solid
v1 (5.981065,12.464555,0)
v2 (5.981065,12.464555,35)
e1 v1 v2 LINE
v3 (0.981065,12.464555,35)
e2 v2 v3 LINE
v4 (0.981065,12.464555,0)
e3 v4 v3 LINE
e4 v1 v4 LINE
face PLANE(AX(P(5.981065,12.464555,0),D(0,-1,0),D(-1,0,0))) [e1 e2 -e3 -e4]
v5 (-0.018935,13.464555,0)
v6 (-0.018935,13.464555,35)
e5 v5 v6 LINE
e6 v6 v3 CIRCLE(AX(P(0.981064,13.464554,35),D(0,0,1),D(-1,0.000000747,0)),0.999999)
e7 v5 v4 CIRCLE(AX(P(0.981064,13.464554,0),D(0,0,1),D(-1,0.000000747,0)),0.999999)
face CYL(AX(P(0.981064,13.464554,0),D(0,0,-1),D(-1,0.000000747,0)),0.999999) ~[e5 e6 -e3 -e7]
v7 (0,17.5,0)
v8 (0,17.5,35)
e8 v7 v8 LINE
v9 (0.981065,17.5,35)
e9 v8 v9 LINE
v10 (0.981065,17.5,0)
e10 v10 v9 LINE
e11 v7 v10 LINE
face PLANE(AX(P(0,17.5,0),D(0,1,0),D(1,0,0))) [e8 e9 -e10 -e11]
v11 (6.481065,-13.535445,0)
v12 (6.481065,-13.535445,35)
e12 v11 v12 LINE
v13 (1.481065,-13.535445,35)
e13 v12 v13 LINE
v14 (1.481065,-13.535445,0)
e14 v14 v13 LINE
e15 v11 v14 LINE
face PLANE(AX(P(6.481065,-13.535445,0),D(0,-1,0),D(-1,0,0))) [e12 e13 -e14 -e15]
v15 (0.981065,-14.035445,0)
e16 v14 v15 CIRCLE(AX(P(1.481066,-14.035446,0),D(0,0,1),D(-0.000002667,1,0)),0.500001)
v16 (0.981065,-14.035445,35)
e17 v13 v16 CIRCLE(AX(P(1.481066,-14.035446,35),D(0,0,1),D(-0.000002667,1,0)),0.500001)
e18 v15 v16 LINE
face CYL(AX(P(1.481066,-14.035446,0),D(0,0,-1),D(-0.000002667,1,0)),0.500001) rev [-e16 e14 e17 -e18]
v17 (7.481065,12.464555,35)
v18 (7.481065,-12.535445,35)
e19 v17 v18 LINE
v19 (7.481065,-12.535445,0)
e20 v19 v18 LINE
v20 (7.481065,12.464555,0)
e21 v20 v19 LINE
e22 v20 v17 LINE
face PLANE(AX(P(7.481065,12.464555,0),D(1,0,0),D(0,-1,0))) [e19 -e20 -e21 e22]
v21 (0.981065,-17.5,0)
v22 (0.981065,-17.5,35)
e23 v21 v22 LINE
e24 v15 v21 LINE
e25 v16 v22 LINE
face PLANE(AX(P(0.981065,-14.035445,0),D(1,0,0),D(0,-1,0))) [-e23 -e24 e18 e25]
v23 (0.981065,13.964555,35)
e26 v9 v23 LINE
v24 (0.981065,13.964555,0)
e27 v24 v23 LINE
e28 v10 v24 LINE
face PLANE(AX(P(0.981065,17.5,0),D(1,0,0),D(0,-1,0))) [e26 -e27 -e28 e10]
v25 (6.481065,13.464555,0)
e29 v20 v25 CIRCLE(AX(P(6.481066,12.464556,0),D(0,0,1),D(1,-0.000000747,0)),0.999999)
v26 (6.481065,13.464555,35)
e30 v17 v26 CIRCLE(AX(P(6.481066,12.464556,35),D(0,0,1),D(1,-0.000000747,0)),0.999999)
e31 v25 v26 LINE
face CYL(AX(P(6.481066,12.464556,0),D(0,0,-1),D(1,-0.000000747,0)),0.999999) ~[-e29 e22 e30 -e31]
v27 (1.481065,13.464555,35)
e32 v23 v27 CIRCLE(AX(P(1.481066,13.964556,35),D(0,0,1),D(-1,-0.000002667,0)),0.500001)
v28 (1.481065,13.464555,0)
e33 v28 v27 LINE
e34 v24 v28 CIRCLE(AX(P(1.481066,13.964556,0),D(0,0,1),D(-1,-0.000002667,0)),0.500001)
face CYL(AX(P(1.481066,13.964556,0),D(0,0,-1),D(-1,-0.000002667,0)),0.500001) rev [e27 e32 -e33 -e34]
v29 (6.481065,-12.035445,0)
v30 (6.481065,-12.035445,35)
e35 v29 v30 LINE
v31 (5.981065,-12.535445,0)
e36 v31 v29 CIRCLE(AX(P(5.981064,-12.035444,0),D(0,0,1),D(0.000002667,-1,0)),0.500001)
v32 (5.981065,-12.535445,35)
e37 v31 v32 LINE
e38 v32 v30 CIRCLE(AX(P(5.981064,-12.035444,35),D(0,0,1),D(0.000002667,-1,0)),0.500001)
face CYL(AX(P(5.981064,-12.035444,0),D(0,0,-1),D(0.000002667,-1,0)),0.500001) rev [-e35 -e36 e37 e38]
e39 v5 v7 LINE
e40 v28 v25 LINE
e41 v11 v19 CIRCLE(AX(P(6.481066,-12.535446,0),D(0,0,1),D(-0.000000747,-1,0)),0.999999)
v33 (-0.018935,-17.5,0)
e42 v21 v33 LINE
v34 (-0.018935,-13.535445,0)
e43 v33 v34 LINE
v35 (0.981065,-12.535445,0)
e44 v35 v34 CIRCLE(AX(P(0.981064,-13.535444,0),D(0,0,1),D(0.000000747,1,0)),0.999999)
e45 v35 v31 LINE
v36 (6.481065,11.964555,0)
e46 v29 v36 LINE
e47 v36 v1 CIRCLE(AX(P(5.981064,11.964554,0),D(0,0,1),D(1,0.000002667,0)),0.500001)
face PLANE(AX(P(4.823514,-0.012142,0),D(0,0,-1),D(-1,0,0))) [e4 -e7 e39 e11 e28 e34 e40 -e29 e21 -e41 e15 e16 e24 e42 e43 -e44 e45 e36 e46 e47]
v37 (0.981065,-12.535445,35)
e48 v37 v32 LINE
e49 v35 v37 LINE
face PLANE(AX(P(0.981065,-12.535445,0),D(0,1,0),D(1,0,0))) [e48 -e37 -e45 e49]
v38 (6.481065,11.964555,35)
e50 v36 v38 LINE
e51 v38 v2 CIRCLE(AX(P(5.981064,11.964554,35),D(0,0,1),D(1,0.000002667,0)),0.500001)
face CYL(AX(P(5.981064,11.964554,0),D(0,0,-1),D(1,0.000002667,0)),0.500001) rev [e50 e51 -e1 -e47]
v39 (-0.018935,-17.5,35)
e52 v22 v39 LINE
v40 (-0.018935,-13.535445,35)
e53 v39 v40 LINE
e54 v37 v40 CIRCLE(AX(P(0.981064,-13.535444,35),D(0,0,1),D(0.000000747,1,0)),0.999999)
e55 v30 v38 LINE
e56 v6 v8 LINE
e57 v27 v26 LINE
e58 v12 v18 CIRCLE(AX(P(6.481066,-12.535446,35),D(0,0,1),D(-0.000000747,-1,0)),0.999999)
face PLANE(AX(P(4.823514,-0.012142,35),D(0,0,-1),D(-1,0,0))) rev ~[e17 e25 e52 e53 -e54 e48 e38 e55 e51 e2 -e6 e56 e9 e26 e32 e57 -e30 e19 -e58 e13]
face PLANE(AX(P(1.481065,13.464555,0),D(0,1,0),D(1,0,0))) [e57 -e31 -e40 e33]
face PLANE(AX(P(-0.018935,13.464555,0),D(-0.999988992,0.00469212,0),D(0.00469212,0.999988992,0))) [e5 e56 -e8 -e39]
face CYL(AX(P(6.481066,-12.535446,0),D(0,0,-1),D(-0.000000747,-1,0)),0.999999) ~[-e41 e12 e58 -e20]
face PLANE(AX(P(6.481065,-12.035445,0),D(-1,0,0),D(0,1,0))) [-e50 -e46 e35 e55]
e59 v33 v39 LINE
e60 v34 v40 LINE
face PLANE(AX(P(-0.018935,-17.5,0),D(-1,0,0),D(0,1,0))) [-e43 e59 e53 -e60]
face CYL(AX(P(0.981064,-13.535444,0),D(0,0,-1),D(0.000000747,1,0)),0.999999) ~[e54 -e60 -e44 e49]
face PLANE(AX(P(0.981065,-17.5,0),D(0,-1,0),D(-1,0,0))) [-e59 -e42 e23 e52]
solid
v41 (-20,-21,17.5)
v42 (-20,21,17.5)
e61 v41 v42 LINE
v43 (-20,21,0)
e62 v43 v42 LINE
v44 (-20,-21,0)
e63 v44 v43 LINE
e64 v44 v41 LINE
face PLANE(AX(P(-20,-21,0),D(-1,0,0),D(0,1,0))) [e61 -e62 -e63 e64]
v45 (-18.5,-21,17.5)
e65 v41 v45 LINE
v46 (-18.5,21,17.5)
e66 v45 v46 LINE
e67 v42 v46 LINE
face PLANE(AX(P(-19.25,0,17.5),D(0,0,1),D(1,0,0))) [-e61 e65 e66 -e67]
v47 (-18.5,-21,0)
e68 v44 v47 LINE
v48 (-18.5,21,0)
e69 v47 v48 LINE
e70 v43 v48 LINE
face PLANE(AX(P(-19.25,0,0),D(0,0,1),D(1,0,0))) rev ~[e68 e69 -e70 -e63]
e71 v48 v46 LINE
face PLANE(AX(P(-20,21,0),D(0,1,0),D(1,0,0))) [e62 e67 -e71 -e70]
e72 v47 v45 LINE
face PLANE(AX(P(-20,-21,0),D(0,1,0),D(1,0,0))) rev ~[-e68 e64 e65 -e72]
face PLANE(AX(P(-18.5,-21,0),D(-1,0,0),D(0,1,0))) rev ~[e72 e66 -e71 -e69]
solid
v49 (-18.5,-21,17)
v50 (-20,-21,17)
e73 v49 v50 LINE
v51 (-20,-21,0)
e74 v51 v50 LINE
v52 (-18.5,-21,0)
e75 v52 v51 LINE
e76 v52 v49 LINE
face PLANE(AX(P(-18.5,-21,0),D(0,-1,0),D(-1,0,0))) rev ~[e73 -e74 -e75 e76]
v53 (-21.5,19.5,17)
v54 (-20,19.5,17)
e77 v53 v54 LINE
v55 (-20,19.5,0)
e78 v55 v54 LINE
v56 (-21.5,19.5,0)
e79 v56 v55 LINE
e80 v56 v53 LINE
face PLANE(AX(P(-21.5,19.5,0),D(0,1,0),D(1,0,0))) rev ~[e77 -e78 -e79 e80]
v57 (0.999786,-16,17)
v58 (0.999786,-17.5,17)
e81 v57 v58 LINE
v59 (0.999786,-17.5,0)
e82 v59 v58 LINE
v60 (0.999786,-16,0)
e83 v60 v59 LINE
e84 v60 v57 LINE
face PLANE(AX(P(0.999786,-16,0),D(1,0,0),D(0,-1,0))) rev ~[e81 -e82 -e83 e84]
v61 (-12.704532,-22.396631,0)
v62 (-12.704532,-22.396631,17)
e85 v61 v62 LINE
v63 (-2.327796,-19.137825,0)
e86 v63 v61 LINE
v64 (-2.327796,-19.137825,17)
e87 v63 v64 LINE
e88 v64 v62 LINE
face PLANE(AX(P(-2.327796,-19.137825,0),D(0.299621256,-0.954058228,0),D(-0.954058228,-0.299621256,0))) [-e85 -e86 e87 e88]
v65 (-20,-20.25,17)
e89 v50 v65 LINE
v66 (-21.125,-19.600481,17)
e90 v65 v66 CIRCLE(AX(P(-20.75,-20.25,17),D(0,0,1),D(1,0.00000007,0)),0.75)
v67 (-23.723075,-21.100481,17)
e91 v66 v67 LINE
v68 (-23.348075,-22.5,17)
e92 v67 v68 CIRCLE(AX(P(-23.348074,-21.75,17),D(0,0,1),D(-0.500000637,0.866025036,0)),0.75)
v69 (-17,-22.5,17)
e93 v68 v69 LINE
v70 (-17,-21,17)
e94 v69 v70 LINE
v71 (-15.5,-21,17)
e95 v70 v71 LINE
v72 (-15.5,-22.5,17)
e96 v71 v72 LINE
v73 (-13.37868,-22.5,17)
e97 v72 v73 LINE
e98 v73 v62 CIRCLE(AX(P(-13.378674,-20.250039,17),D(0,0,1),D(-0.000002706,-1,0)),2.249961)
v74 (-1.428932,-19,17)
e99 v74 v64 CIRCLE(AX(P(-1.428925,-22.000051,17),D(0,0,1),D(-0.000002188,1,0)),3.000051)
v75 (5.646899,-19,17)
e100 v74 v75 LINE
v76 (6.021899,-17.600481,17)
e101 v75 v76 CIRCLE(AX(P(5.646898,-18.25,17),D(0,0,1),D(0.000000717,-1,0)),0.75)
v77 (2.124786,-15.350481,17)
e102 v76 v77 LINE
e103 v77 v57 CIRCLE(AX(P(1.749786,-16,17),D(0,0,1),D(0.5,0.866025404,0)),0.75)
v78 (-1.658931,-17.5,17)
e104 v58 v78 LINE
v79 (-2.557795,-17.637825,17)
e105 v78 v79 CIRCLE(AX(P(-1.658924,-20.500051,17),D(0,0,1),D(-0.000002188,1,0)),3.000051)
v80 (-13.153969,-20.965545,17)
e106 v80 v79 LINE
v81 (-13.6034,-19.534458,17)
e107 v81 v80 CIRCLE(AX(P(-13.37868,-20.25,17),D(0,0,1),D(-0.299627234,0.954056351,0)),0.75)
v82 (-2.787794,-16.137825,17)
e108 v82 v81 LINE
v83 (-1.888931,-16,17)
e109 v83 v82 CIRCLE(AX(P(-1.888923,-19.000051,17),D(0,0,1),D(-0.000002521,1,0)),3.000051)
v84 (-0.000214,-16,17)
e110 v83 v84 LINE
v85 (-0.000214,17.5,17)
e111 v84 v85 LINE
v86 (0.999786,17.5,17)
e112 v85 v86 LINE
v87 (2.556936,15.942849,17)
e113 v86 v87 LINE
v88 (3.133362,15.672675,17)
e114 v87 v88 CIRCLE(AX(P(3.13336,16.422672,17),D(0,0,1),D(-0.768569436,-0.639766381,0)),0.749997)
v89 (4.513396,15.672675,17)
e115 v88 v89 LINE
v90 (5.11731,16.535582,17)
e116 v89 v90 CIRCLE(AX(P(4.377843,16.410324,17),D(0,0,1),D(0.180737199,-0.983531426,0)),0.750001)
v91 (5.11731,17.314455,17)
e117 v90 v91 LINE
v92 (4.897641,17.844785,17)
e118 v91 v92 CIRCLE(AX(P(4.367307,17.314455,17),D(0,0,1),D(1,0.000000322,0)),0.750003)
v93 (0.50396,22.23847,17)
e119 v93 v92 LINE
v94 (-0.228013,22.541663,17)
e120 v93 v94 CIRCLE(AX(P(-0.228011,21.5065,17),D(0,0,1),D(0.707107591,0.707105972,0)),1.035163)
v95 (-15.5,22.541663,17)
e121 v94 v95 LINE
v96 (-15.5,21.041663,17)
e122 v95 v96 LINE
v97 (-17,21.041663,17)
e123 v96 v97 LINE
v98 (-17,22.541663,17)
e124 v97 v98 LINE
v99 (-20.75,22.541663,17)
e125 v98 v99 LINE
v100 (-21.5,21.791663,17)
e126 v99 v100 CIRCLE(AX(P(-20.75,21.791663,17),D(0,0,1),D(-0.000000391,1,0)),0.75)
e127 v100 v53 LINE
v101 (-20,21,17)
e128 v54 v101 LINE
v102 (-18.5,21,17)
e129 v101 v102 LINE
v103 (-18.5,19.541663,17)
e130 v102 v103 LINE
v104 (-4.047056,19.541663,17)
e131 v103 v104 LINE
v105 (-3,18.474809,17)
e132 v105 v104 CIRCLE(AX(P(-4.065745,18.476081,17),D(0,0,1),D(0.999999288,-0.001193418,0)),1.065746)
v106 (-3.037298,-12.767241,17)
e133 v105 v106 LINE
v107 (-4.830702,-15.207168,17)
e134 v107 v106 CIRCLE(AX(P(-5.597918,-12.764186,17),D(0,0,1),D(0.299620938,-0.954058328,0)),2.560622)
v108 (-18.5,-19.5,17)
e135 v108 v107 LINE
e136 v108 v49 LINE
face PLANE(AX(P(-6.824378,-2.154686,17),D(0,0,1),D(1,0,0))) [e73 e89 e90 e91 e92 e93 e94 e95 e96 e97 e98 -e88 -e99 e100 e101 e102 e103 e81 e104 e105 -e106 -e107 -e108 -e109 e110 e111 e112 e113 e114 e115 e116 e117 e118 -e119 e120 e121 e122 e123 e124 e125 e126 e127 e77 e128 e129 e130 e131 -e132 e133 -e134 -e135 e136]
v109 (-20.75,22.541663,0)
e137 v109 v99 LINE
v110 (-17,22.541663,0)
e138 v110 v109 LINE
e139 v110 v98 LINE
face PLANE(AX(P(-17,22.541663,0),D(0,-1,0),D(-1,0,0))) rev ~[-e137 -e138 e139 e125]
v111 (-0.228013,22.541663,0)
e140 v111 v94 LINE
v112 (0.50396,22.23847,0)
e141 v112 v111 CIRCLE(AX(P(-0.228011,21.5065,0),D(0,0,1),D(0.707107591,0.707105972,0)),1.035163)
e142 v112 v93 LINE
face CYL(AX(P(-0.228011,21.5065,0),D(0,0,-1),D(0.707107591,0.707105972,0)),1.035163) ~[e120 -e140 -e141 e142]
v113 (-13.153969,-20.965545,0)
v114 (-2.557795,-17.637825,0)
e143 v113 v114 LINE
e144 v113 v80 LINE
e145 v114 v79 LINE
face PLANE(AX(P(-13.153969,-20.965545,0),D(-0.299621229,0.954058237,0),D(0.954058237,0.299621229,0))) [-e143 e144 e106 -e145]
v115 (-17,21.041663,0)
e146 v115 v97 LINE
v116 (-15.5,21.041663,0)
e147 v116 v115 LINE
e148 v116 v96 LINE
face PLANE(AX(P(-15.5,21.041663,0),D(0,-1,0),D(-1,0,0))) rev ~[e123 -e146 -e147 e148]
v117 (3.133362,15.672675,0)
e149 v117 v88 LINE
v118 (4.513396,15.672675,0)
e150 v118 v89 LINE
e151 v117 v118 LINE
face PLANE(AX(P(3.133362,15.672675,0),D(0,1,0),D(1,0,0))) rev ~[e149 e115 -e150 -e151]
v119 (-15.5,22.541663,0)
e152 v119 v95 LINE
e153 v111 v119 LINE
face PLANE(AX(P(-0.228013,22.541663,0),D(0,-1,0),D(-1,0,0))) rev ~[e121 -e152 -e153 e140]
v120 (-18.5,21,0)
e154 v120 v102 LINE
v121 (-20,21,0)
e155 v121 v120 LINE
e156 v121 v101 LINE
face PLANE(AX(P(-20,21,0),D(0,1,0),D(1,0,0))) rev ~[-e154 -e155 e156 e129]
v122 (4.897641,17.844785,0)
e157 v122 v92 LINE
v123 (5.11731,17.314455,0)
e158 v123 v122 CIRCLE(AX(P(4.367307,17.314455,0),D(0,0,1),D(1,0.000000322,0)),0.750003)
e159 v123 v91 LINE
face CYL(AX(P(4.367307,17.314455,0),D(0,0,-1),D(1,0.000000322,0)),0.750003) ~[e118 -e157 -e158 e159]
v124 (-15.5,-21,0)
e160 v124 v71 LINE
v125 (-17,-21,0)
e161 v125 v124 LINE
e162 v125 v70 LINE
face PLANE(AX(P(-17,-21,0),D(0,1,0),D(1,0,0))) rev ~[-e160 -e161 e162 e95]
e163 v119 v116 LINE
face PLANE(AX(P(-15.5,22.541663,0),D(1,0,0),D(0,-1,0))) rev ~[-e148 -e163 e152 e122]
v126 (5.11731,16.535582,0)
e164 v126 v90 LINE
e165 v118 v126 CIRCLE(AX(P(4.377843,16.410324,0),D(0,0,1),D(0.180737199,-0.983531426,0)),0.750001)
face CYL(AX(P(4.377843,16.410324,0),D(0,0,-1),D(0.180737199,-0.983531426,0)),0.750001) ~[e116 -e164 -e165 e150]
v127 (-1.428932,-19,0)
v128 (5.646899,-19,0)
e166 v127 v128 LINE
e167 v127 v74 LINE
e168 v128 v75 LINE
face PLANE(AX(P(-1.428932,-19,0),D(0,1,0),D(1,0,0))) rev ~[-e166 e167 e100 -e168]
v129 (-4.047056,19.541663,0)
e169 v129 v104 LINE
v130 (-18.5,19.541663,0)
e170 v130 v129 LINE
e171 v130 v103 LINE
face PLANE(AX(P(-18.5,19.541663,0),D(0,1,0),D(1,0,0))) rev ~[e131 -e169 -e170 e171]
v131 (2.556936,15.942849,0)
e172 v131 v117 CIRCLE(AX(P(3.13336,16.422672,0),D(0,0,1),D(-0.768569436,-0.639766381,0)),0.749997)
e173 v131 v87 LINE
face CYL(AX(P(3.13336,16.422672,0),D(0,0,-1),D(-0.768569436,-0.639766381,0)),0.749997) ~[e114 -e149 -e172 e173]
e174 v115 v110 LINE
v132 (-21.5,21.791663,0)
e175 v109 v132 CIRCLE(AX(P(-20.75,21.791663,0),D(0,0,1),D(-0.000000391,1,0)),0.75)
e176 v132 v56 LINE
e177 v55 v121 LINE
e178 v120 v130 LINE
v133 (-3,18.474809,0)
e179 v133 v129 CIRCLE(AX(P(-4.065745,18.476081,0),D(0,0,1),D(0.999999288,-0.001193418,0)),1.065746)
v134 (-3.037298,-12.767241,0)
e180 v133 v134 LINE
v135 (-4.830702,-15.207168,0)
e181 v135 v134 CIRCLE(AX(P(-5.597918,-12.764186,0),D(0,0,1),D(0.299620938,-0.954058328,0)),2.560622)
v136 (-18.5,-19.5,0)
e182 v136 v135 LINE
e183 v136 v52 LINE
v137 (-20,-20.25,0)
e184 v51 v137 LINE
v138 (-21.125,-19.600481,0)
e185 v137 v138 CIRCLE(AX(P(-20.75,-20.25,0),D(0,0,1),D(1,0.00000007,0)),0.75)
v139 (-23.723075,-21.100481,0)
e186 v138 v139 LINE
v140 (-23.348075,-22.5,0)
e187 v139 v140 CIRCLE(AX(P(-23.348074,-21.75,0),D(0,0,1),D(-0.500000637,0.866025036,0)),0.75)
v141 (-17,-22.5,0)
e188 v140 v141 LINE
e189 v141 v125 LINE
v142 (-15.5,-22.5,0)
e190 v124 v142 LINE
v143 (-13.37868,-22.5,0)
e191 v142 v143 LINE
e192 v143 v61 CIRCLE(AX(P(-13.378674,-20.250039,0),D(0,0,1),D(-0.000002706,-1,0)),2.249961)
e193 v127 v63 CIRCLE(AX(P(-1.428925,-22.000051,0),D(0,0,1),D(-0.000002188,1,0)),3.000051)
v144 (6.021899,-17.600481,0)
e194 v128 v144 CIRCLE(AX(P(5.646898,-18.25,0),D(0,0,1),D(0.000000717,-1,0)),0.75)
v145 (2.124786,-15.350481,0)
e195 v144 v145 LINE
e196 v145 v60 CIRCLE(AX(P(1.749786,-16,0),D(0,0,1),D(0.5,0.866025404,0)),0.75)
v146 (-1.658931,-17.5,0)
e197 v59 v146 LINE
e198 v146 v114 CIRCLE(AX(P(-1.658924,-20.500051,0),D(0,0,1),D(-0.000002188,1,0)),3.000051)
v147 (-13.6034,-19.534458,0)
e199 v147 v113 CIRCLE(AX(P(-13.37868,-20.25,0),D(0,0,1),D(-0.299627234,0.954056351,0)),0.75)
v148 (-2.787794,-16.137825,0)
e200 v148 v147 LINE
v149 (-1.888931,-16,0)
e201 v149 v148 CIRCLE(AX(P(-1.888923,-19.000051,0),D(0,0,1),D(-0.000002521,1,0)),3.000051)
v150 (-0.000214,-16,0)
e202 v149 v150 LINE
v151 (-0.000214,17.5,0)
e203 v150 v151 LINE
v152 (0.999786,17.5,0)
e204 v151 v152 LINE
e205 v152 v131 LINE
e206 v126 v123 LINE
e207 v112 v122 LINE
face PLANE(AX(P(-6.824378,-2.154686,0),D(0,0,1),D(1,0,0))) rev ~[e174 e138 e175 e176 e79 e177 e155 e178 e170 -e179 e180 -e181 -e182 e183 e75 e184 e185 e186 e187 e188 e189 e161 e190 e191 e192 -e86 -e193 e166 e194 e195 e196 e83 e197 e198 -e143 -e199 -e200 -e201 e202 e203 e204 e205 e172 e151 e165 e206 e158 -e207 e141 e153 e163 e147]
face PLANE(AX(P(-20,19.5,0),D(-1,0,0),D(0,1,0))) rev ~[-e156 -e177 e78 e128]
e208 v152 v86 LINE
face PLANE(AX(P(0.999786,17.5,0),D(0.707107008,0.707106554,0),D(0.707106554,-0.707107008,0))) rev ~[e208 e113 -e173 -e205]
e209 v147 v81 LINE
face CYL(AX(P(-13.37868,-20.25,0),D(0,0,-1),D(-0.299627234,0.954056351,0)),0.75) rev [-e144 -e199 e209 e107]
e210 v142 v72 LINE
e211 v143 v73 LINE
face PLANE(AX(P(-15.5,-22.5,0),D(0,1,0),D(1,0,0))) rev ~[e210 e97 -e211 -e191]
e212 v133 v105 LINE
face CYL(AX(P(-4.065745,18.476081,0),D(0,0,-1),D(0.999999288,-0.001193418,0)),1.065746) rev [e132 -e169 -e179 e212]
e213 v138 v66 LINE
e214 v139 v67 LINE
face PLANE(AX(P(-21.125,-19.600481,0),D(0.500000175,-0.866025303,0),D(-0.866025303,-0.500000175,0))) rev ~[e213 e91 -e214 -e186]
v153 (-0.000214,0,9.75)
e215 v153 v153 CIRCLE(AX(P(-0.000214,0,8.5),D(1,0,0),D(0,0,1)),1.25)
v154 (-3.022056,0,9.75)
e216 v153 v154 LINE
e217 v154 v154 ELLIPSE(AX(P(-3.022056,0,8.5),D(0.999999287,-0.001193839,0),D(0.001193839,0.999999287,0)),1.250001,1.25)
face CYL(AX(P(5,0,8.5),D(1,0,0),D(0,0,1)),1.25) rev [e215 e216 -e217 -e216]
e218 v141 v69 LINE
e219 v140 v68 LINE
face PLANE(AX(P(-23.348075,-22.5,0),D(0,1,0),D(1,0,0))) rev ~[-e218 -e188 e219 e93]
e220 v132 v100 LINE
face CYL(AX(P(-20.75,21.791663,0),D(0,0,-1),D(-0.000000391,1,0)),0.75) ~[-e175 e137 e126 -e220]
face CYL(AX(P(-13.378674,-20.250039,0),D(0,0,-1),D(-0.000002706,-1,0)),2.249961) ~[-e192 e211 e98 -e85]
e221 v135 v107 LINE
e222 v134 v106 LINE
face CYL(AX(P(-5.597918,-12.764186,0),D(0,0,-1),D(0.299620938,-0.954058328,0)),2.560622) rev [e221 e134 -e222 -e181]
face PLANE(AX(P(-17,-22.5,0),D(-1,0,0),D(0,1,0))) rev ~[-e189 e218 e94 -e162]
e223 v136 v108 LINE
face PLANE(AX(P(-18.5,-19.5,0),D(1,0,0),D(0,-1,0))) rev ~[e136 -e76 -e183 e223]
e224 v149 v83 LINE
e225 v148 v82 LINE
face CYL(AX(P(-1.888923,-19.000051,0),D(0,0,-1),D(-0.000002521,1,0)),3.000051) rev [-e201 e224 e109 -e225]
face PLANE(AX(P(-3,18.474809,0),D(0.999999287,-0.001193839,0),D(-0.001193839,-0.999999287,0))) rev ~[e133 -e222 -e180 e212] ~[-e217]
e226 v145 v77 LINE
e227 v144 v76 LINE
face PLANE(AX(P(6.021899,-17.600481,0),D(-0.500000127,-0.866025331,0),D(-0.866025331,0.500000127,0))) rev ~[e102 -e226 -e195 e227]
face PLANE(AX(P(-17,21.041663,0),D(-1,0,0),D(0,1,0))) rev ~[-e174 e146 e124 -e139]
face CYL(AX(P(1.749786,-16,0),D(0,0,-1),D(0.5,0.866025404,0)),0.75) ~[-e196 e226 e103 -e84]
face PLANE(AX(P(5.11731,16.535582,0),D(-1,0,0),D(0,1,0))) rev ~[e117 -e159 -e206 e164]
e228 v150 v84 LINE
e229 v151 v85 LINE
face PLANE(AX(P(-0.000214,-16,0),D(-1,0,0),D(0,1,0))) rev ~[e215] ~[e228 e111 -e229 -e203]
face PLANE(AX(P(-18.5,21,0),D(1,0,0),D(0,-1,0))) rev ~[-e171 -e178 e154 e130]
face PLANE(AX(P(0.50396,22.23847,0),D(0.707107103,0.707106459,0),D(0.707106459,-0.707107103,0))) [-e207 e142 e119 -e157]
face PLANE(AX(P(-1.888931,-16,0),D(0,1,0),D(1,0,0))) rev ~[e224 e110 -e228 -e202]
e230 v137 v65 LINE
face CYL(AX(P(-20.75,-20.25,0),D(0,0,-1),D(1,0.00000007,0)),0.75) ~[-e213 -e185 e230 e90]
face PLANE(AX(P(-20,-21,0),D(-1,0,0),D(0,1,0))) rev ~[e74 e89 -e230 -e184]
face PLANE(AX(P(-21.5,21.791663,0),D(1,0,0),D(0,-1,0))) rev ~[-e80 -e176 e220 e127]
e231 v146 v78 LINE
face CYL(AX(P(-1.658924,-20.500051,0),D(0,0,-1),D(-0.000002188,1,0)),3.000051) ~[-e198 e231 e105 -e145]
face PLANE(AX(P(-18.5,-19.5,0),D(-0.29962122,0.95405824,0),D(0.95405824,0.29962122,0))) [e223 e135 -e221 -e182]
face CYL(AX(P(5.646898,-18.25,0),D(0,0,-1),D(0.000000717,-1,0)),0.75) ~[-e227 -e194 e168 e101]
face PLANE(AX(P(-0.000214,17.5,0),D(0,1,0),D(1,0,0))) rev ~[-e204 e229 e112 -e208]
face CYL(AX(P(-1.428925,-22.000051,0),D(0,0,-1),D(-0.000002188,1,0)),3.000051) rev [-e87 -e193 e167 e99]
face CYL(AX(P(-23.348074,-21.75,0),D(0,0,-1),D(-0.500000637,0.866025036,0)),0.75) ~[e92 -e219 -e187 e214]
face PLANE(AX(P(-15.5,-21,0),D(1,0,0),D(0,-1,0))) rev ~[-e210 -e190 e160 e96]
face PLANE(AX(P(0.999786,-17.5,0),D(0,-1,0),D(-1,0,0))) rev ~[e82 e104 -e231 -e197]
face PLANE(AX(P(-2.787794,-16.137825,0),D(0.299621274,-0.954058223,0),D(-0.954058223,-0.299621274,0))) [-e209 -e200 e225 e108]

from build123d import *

# Parameters (mm, degrees)
PAD001_DEPTH         = 35
BOX_W                = 1.5
BOX_H                = 42
BOX_DEPTH            = 17.5
CYLINDER_R           = 1.25
CYLINDER_DEPTH       = 10
CYLINDER_PITCH_ANGLE = -90
PAD_DEPTH            = 17


with BuildPart() as din_rail:
    # Sketch001 → Pad001 (new body)
    with BuildSketch(Plane(origin=(0, 17.5, 0), x_dir=(1, 0, 0), z_dir=(0, 0, 1))):
        with BuildLine():
            Line((0, 0), (0.981065, 0))
            Line((0.981065, 0), (0.981065, -3.535445))
            ThreePointArc((0.981065, -3.535445), (1.127512, -3.888998), (1.481065, -4.035445))
            Line((1.481065, -4.035445), (6.481065, -4.035445))
            ThreePointArc((7.481065, -5.035445), (7.188172, -4.328338), (6.481065, -4.035445))
            Line((7.481065, -5.035445), (7.481065, -30.035445))
            ThreePointArc((6.481065, -31.035445), (7.188172, -30.742552), (7.481065, -30.035445))
            Line((6.481065, -31.035445), (1.481065, -31.035445))
            ThreePointArc((1.481065, -31.035445), (1.127512, -31.181892), (0.981065, -31.535445))
            Line((0.981065, -31.535445), (0.981065, -35))
            Line((0.981065, -35), (-0.018935, -35))
            Line((-0.018935, -35), (-0.018935, -31.035445))
            ThreePointArc((0.981065, -30.035445), (0.273958, -30.328338), (-0.018935, -31.035445))
            Line((0.981065, -30.035445), (5.981065, -30.035445))
            ThreePointArc((5.981065, -30.035445), (6.334618, -29.888998), (6.481065, -29.535445))
            Line((6.481065, -29.535445), (6.481065, -5.535445))
            ThreePointArc((6.481065, -5.535445), (6.334618, -5.181892), (5.981065, -5.035445))
            Line((5.981065, -5.035445), (0.981065, -5.035445))
            ThreePointArc((-0.018935, -4.035445), (0.273958, -4.742552), (0.981065, -5.035445))
            Line((-0.018935, -4.035445), (0, 0))
        make_face()
    extrude(amount=PAD001_DEPTH)


with BuildPart() as pcb:
    # Box → Box (new body)
    with BuildSketch(Plane(origin=(-20, -21, 0), x_dir=(1, 0, 0), z_dir=(0, 0, 1))):
        with Locations((0.75, 21)):
            Rectangle(BOX_W, BOX_H)
    extrude(amount=BOX_DEPTH)


with BuildPart() as bracket_hole:
    # Cylinder → Cylinder (new body)
    with BuildSketch(Plane.XY):
        Circle(CYLINDER_R)
    extrude(amount=CYLINDER_DEPTH)


with BuildPart() as bracket_hole_1:
    # Cylinder pitch: moved
    add(bracket_hole.part.rotate(Axis((0, 0, 0), (0, 1, 0)), CYLINDER_PITCH_ANGLE))


with BuildPart() as bracket_hole_2:
    # Cylinder placement: moved
    add(bracket_hole_1.part.moved(Location((5, 0, 8.5))))


with BuildPart() as din_bracket_single:
    # Sketch → Pad (new body)
    with BuildSketch(Plane(origin=(-3, 0, 0), x_dir=(1, 0, 0), z_dir=(0, 0, 1))):
        with BuildLine():
            Line((2.771987, 22.541663), (-12.5, 22.541663))
            Line((-12.5, 22.541663), (-12.5, 21.041663))
            Line((-12.5, 21.041663), (-14, 21.041663))
            Line((-14, 21.041663), (-14, 22.541663))
            Line((-14, 22.541663), (-17.75, 22.541663))
            ThreePointArc((-17.75, 22.541663), (-18.28033, 22.321993), (-18.5, 21.791663))
            Line((-18.5, 21.791663), (-18.5, 19.5))
            Line((-18.5, 19.5), (-17, 19.5))
            Line((-17, 19.5), (-17, 21))
            Line((-17, 21), (-15.5, 21))
            Line((-15.5, 21), (-15.5, 19.541663))
            Line((-15.5, 19.541663), (-1.047056, 19.541663))
            ThreePointArc((0, 18.474809), (-0.305125, 19.222587), (-1.047056, 19.541663))
            Line((0, 18.474809), (-0.037298, -12.767241))
            ThreePointArc((-1.830702, -15.207168), (-0.534684, -14.280711), (-0.037298, -12.767241))
            Line((-15.5, -19.5), (-1.830702, -15.207168))
            Line((-15.5, -19.5), (-15.5, -21))
            Line((-15.5, -21), (-17, -21))
            Line((-17, -21), (-17, -20.25))
            ThreePointArc((-17, -20.25), (-17.375, -19.600481), (-18.125, -19.600481))
            Line((-18.125, -19.600481), (-20.723075, -21.100481))
            ThreePointArc((-20.723075, -21.100481), (-21.072519, -21.944114), (-20.348075, -22.5))
            Line((-20.348075, -22.5), (-14, -22.5))
            Line((-14, -22.5), (-14, -21))
            Line((-14, -21), (-12.5, -21))
            Line((-12.5, -21), (-12.5, -22.5))
            Line((-12.5, -22.5), (-10.37868, -22.5))
            ThreePointArc((-10.37868, -22.5), (-10.037666, -22.474008), (-9.704532, -22.396631))
            Line((0.672204, -19.137825), (-9.704532, -22.396631))
            ThreePointArc((1.571068, -19), (1.116383, -19.034657), (0.672204, -19.137825))
            Line((1.571068, -19), (8.646899, -19))
            ThreePointArc((8.646899, -19), (9.371343, -18.444114), (9.021899, -17.600481))
            Line((9.021899, -17.600481), (5.124786, -15.350481))
            ThreePointArc((5.124786, -15.350481), (4.374786, -15.350481), (3.999786, -16))
            Line((3.999786, -16), (3.999786, -17.5))
            Line((3.999786, -17.5), (1.341069, -17.5))
            ThreePointArc((1.341069, -17.5), (0.886384, -17.534657), (0.442205, -17.637825))
            Line((-10.153969, -20.965545), (0.442205, -17.637825))
            ThreePointArc((-10.6034, -19.534458), (-11.094223, -20.474716), (-10.153969, -20.965545))
            Line((0.212206, -16.137825), (-10.6034, -19.534458))
            ThreePointArc((1.111069, -16), (0.656385, -16.034657), (0.212206, -16.137825))
            Line((1.111069, -16), (2.999786, -16))
            Line((2.999786, -16), (2.999786, 17.5))
            Line((2.999786, 17.5), (3.999786, 17.5))
            Line((3.999786, 17.5), (5.556936, 15.942849))
            ThreePointArc((5.556936, 15.942849), (5.815061, 15.743569), (6.133362, 15.672675))
            Line((6.133362, 15.672675), (7.513396, 15.672675))
            ThreePointArc((7.513396, 15.672675), (7.992308, 15.980285), (8.11731, 16.535582))
            Line((8.11731, 16.535582), (8.11731, 17.314455))
            ThreePointArc((8.11731, 17.314455), (8.06022, 17.601467), (7.897641, 17.844785))
            Line((3.50396, 22.23847), (7.897641, 17.844785))
            ThreePointArc((3.50396, 22.23847), (3.168128, 22.462866), (2.771987, 22.541663))
        make_face()
    extrude(amount=PAD_DEPTH)

    # Cut: cut bracket hole
    add(bracket_hole_2.part, mode=Mode.SUBTRACT)


solid = Compound([din_rail.part, pcb.part, din_bracket_single.part])
